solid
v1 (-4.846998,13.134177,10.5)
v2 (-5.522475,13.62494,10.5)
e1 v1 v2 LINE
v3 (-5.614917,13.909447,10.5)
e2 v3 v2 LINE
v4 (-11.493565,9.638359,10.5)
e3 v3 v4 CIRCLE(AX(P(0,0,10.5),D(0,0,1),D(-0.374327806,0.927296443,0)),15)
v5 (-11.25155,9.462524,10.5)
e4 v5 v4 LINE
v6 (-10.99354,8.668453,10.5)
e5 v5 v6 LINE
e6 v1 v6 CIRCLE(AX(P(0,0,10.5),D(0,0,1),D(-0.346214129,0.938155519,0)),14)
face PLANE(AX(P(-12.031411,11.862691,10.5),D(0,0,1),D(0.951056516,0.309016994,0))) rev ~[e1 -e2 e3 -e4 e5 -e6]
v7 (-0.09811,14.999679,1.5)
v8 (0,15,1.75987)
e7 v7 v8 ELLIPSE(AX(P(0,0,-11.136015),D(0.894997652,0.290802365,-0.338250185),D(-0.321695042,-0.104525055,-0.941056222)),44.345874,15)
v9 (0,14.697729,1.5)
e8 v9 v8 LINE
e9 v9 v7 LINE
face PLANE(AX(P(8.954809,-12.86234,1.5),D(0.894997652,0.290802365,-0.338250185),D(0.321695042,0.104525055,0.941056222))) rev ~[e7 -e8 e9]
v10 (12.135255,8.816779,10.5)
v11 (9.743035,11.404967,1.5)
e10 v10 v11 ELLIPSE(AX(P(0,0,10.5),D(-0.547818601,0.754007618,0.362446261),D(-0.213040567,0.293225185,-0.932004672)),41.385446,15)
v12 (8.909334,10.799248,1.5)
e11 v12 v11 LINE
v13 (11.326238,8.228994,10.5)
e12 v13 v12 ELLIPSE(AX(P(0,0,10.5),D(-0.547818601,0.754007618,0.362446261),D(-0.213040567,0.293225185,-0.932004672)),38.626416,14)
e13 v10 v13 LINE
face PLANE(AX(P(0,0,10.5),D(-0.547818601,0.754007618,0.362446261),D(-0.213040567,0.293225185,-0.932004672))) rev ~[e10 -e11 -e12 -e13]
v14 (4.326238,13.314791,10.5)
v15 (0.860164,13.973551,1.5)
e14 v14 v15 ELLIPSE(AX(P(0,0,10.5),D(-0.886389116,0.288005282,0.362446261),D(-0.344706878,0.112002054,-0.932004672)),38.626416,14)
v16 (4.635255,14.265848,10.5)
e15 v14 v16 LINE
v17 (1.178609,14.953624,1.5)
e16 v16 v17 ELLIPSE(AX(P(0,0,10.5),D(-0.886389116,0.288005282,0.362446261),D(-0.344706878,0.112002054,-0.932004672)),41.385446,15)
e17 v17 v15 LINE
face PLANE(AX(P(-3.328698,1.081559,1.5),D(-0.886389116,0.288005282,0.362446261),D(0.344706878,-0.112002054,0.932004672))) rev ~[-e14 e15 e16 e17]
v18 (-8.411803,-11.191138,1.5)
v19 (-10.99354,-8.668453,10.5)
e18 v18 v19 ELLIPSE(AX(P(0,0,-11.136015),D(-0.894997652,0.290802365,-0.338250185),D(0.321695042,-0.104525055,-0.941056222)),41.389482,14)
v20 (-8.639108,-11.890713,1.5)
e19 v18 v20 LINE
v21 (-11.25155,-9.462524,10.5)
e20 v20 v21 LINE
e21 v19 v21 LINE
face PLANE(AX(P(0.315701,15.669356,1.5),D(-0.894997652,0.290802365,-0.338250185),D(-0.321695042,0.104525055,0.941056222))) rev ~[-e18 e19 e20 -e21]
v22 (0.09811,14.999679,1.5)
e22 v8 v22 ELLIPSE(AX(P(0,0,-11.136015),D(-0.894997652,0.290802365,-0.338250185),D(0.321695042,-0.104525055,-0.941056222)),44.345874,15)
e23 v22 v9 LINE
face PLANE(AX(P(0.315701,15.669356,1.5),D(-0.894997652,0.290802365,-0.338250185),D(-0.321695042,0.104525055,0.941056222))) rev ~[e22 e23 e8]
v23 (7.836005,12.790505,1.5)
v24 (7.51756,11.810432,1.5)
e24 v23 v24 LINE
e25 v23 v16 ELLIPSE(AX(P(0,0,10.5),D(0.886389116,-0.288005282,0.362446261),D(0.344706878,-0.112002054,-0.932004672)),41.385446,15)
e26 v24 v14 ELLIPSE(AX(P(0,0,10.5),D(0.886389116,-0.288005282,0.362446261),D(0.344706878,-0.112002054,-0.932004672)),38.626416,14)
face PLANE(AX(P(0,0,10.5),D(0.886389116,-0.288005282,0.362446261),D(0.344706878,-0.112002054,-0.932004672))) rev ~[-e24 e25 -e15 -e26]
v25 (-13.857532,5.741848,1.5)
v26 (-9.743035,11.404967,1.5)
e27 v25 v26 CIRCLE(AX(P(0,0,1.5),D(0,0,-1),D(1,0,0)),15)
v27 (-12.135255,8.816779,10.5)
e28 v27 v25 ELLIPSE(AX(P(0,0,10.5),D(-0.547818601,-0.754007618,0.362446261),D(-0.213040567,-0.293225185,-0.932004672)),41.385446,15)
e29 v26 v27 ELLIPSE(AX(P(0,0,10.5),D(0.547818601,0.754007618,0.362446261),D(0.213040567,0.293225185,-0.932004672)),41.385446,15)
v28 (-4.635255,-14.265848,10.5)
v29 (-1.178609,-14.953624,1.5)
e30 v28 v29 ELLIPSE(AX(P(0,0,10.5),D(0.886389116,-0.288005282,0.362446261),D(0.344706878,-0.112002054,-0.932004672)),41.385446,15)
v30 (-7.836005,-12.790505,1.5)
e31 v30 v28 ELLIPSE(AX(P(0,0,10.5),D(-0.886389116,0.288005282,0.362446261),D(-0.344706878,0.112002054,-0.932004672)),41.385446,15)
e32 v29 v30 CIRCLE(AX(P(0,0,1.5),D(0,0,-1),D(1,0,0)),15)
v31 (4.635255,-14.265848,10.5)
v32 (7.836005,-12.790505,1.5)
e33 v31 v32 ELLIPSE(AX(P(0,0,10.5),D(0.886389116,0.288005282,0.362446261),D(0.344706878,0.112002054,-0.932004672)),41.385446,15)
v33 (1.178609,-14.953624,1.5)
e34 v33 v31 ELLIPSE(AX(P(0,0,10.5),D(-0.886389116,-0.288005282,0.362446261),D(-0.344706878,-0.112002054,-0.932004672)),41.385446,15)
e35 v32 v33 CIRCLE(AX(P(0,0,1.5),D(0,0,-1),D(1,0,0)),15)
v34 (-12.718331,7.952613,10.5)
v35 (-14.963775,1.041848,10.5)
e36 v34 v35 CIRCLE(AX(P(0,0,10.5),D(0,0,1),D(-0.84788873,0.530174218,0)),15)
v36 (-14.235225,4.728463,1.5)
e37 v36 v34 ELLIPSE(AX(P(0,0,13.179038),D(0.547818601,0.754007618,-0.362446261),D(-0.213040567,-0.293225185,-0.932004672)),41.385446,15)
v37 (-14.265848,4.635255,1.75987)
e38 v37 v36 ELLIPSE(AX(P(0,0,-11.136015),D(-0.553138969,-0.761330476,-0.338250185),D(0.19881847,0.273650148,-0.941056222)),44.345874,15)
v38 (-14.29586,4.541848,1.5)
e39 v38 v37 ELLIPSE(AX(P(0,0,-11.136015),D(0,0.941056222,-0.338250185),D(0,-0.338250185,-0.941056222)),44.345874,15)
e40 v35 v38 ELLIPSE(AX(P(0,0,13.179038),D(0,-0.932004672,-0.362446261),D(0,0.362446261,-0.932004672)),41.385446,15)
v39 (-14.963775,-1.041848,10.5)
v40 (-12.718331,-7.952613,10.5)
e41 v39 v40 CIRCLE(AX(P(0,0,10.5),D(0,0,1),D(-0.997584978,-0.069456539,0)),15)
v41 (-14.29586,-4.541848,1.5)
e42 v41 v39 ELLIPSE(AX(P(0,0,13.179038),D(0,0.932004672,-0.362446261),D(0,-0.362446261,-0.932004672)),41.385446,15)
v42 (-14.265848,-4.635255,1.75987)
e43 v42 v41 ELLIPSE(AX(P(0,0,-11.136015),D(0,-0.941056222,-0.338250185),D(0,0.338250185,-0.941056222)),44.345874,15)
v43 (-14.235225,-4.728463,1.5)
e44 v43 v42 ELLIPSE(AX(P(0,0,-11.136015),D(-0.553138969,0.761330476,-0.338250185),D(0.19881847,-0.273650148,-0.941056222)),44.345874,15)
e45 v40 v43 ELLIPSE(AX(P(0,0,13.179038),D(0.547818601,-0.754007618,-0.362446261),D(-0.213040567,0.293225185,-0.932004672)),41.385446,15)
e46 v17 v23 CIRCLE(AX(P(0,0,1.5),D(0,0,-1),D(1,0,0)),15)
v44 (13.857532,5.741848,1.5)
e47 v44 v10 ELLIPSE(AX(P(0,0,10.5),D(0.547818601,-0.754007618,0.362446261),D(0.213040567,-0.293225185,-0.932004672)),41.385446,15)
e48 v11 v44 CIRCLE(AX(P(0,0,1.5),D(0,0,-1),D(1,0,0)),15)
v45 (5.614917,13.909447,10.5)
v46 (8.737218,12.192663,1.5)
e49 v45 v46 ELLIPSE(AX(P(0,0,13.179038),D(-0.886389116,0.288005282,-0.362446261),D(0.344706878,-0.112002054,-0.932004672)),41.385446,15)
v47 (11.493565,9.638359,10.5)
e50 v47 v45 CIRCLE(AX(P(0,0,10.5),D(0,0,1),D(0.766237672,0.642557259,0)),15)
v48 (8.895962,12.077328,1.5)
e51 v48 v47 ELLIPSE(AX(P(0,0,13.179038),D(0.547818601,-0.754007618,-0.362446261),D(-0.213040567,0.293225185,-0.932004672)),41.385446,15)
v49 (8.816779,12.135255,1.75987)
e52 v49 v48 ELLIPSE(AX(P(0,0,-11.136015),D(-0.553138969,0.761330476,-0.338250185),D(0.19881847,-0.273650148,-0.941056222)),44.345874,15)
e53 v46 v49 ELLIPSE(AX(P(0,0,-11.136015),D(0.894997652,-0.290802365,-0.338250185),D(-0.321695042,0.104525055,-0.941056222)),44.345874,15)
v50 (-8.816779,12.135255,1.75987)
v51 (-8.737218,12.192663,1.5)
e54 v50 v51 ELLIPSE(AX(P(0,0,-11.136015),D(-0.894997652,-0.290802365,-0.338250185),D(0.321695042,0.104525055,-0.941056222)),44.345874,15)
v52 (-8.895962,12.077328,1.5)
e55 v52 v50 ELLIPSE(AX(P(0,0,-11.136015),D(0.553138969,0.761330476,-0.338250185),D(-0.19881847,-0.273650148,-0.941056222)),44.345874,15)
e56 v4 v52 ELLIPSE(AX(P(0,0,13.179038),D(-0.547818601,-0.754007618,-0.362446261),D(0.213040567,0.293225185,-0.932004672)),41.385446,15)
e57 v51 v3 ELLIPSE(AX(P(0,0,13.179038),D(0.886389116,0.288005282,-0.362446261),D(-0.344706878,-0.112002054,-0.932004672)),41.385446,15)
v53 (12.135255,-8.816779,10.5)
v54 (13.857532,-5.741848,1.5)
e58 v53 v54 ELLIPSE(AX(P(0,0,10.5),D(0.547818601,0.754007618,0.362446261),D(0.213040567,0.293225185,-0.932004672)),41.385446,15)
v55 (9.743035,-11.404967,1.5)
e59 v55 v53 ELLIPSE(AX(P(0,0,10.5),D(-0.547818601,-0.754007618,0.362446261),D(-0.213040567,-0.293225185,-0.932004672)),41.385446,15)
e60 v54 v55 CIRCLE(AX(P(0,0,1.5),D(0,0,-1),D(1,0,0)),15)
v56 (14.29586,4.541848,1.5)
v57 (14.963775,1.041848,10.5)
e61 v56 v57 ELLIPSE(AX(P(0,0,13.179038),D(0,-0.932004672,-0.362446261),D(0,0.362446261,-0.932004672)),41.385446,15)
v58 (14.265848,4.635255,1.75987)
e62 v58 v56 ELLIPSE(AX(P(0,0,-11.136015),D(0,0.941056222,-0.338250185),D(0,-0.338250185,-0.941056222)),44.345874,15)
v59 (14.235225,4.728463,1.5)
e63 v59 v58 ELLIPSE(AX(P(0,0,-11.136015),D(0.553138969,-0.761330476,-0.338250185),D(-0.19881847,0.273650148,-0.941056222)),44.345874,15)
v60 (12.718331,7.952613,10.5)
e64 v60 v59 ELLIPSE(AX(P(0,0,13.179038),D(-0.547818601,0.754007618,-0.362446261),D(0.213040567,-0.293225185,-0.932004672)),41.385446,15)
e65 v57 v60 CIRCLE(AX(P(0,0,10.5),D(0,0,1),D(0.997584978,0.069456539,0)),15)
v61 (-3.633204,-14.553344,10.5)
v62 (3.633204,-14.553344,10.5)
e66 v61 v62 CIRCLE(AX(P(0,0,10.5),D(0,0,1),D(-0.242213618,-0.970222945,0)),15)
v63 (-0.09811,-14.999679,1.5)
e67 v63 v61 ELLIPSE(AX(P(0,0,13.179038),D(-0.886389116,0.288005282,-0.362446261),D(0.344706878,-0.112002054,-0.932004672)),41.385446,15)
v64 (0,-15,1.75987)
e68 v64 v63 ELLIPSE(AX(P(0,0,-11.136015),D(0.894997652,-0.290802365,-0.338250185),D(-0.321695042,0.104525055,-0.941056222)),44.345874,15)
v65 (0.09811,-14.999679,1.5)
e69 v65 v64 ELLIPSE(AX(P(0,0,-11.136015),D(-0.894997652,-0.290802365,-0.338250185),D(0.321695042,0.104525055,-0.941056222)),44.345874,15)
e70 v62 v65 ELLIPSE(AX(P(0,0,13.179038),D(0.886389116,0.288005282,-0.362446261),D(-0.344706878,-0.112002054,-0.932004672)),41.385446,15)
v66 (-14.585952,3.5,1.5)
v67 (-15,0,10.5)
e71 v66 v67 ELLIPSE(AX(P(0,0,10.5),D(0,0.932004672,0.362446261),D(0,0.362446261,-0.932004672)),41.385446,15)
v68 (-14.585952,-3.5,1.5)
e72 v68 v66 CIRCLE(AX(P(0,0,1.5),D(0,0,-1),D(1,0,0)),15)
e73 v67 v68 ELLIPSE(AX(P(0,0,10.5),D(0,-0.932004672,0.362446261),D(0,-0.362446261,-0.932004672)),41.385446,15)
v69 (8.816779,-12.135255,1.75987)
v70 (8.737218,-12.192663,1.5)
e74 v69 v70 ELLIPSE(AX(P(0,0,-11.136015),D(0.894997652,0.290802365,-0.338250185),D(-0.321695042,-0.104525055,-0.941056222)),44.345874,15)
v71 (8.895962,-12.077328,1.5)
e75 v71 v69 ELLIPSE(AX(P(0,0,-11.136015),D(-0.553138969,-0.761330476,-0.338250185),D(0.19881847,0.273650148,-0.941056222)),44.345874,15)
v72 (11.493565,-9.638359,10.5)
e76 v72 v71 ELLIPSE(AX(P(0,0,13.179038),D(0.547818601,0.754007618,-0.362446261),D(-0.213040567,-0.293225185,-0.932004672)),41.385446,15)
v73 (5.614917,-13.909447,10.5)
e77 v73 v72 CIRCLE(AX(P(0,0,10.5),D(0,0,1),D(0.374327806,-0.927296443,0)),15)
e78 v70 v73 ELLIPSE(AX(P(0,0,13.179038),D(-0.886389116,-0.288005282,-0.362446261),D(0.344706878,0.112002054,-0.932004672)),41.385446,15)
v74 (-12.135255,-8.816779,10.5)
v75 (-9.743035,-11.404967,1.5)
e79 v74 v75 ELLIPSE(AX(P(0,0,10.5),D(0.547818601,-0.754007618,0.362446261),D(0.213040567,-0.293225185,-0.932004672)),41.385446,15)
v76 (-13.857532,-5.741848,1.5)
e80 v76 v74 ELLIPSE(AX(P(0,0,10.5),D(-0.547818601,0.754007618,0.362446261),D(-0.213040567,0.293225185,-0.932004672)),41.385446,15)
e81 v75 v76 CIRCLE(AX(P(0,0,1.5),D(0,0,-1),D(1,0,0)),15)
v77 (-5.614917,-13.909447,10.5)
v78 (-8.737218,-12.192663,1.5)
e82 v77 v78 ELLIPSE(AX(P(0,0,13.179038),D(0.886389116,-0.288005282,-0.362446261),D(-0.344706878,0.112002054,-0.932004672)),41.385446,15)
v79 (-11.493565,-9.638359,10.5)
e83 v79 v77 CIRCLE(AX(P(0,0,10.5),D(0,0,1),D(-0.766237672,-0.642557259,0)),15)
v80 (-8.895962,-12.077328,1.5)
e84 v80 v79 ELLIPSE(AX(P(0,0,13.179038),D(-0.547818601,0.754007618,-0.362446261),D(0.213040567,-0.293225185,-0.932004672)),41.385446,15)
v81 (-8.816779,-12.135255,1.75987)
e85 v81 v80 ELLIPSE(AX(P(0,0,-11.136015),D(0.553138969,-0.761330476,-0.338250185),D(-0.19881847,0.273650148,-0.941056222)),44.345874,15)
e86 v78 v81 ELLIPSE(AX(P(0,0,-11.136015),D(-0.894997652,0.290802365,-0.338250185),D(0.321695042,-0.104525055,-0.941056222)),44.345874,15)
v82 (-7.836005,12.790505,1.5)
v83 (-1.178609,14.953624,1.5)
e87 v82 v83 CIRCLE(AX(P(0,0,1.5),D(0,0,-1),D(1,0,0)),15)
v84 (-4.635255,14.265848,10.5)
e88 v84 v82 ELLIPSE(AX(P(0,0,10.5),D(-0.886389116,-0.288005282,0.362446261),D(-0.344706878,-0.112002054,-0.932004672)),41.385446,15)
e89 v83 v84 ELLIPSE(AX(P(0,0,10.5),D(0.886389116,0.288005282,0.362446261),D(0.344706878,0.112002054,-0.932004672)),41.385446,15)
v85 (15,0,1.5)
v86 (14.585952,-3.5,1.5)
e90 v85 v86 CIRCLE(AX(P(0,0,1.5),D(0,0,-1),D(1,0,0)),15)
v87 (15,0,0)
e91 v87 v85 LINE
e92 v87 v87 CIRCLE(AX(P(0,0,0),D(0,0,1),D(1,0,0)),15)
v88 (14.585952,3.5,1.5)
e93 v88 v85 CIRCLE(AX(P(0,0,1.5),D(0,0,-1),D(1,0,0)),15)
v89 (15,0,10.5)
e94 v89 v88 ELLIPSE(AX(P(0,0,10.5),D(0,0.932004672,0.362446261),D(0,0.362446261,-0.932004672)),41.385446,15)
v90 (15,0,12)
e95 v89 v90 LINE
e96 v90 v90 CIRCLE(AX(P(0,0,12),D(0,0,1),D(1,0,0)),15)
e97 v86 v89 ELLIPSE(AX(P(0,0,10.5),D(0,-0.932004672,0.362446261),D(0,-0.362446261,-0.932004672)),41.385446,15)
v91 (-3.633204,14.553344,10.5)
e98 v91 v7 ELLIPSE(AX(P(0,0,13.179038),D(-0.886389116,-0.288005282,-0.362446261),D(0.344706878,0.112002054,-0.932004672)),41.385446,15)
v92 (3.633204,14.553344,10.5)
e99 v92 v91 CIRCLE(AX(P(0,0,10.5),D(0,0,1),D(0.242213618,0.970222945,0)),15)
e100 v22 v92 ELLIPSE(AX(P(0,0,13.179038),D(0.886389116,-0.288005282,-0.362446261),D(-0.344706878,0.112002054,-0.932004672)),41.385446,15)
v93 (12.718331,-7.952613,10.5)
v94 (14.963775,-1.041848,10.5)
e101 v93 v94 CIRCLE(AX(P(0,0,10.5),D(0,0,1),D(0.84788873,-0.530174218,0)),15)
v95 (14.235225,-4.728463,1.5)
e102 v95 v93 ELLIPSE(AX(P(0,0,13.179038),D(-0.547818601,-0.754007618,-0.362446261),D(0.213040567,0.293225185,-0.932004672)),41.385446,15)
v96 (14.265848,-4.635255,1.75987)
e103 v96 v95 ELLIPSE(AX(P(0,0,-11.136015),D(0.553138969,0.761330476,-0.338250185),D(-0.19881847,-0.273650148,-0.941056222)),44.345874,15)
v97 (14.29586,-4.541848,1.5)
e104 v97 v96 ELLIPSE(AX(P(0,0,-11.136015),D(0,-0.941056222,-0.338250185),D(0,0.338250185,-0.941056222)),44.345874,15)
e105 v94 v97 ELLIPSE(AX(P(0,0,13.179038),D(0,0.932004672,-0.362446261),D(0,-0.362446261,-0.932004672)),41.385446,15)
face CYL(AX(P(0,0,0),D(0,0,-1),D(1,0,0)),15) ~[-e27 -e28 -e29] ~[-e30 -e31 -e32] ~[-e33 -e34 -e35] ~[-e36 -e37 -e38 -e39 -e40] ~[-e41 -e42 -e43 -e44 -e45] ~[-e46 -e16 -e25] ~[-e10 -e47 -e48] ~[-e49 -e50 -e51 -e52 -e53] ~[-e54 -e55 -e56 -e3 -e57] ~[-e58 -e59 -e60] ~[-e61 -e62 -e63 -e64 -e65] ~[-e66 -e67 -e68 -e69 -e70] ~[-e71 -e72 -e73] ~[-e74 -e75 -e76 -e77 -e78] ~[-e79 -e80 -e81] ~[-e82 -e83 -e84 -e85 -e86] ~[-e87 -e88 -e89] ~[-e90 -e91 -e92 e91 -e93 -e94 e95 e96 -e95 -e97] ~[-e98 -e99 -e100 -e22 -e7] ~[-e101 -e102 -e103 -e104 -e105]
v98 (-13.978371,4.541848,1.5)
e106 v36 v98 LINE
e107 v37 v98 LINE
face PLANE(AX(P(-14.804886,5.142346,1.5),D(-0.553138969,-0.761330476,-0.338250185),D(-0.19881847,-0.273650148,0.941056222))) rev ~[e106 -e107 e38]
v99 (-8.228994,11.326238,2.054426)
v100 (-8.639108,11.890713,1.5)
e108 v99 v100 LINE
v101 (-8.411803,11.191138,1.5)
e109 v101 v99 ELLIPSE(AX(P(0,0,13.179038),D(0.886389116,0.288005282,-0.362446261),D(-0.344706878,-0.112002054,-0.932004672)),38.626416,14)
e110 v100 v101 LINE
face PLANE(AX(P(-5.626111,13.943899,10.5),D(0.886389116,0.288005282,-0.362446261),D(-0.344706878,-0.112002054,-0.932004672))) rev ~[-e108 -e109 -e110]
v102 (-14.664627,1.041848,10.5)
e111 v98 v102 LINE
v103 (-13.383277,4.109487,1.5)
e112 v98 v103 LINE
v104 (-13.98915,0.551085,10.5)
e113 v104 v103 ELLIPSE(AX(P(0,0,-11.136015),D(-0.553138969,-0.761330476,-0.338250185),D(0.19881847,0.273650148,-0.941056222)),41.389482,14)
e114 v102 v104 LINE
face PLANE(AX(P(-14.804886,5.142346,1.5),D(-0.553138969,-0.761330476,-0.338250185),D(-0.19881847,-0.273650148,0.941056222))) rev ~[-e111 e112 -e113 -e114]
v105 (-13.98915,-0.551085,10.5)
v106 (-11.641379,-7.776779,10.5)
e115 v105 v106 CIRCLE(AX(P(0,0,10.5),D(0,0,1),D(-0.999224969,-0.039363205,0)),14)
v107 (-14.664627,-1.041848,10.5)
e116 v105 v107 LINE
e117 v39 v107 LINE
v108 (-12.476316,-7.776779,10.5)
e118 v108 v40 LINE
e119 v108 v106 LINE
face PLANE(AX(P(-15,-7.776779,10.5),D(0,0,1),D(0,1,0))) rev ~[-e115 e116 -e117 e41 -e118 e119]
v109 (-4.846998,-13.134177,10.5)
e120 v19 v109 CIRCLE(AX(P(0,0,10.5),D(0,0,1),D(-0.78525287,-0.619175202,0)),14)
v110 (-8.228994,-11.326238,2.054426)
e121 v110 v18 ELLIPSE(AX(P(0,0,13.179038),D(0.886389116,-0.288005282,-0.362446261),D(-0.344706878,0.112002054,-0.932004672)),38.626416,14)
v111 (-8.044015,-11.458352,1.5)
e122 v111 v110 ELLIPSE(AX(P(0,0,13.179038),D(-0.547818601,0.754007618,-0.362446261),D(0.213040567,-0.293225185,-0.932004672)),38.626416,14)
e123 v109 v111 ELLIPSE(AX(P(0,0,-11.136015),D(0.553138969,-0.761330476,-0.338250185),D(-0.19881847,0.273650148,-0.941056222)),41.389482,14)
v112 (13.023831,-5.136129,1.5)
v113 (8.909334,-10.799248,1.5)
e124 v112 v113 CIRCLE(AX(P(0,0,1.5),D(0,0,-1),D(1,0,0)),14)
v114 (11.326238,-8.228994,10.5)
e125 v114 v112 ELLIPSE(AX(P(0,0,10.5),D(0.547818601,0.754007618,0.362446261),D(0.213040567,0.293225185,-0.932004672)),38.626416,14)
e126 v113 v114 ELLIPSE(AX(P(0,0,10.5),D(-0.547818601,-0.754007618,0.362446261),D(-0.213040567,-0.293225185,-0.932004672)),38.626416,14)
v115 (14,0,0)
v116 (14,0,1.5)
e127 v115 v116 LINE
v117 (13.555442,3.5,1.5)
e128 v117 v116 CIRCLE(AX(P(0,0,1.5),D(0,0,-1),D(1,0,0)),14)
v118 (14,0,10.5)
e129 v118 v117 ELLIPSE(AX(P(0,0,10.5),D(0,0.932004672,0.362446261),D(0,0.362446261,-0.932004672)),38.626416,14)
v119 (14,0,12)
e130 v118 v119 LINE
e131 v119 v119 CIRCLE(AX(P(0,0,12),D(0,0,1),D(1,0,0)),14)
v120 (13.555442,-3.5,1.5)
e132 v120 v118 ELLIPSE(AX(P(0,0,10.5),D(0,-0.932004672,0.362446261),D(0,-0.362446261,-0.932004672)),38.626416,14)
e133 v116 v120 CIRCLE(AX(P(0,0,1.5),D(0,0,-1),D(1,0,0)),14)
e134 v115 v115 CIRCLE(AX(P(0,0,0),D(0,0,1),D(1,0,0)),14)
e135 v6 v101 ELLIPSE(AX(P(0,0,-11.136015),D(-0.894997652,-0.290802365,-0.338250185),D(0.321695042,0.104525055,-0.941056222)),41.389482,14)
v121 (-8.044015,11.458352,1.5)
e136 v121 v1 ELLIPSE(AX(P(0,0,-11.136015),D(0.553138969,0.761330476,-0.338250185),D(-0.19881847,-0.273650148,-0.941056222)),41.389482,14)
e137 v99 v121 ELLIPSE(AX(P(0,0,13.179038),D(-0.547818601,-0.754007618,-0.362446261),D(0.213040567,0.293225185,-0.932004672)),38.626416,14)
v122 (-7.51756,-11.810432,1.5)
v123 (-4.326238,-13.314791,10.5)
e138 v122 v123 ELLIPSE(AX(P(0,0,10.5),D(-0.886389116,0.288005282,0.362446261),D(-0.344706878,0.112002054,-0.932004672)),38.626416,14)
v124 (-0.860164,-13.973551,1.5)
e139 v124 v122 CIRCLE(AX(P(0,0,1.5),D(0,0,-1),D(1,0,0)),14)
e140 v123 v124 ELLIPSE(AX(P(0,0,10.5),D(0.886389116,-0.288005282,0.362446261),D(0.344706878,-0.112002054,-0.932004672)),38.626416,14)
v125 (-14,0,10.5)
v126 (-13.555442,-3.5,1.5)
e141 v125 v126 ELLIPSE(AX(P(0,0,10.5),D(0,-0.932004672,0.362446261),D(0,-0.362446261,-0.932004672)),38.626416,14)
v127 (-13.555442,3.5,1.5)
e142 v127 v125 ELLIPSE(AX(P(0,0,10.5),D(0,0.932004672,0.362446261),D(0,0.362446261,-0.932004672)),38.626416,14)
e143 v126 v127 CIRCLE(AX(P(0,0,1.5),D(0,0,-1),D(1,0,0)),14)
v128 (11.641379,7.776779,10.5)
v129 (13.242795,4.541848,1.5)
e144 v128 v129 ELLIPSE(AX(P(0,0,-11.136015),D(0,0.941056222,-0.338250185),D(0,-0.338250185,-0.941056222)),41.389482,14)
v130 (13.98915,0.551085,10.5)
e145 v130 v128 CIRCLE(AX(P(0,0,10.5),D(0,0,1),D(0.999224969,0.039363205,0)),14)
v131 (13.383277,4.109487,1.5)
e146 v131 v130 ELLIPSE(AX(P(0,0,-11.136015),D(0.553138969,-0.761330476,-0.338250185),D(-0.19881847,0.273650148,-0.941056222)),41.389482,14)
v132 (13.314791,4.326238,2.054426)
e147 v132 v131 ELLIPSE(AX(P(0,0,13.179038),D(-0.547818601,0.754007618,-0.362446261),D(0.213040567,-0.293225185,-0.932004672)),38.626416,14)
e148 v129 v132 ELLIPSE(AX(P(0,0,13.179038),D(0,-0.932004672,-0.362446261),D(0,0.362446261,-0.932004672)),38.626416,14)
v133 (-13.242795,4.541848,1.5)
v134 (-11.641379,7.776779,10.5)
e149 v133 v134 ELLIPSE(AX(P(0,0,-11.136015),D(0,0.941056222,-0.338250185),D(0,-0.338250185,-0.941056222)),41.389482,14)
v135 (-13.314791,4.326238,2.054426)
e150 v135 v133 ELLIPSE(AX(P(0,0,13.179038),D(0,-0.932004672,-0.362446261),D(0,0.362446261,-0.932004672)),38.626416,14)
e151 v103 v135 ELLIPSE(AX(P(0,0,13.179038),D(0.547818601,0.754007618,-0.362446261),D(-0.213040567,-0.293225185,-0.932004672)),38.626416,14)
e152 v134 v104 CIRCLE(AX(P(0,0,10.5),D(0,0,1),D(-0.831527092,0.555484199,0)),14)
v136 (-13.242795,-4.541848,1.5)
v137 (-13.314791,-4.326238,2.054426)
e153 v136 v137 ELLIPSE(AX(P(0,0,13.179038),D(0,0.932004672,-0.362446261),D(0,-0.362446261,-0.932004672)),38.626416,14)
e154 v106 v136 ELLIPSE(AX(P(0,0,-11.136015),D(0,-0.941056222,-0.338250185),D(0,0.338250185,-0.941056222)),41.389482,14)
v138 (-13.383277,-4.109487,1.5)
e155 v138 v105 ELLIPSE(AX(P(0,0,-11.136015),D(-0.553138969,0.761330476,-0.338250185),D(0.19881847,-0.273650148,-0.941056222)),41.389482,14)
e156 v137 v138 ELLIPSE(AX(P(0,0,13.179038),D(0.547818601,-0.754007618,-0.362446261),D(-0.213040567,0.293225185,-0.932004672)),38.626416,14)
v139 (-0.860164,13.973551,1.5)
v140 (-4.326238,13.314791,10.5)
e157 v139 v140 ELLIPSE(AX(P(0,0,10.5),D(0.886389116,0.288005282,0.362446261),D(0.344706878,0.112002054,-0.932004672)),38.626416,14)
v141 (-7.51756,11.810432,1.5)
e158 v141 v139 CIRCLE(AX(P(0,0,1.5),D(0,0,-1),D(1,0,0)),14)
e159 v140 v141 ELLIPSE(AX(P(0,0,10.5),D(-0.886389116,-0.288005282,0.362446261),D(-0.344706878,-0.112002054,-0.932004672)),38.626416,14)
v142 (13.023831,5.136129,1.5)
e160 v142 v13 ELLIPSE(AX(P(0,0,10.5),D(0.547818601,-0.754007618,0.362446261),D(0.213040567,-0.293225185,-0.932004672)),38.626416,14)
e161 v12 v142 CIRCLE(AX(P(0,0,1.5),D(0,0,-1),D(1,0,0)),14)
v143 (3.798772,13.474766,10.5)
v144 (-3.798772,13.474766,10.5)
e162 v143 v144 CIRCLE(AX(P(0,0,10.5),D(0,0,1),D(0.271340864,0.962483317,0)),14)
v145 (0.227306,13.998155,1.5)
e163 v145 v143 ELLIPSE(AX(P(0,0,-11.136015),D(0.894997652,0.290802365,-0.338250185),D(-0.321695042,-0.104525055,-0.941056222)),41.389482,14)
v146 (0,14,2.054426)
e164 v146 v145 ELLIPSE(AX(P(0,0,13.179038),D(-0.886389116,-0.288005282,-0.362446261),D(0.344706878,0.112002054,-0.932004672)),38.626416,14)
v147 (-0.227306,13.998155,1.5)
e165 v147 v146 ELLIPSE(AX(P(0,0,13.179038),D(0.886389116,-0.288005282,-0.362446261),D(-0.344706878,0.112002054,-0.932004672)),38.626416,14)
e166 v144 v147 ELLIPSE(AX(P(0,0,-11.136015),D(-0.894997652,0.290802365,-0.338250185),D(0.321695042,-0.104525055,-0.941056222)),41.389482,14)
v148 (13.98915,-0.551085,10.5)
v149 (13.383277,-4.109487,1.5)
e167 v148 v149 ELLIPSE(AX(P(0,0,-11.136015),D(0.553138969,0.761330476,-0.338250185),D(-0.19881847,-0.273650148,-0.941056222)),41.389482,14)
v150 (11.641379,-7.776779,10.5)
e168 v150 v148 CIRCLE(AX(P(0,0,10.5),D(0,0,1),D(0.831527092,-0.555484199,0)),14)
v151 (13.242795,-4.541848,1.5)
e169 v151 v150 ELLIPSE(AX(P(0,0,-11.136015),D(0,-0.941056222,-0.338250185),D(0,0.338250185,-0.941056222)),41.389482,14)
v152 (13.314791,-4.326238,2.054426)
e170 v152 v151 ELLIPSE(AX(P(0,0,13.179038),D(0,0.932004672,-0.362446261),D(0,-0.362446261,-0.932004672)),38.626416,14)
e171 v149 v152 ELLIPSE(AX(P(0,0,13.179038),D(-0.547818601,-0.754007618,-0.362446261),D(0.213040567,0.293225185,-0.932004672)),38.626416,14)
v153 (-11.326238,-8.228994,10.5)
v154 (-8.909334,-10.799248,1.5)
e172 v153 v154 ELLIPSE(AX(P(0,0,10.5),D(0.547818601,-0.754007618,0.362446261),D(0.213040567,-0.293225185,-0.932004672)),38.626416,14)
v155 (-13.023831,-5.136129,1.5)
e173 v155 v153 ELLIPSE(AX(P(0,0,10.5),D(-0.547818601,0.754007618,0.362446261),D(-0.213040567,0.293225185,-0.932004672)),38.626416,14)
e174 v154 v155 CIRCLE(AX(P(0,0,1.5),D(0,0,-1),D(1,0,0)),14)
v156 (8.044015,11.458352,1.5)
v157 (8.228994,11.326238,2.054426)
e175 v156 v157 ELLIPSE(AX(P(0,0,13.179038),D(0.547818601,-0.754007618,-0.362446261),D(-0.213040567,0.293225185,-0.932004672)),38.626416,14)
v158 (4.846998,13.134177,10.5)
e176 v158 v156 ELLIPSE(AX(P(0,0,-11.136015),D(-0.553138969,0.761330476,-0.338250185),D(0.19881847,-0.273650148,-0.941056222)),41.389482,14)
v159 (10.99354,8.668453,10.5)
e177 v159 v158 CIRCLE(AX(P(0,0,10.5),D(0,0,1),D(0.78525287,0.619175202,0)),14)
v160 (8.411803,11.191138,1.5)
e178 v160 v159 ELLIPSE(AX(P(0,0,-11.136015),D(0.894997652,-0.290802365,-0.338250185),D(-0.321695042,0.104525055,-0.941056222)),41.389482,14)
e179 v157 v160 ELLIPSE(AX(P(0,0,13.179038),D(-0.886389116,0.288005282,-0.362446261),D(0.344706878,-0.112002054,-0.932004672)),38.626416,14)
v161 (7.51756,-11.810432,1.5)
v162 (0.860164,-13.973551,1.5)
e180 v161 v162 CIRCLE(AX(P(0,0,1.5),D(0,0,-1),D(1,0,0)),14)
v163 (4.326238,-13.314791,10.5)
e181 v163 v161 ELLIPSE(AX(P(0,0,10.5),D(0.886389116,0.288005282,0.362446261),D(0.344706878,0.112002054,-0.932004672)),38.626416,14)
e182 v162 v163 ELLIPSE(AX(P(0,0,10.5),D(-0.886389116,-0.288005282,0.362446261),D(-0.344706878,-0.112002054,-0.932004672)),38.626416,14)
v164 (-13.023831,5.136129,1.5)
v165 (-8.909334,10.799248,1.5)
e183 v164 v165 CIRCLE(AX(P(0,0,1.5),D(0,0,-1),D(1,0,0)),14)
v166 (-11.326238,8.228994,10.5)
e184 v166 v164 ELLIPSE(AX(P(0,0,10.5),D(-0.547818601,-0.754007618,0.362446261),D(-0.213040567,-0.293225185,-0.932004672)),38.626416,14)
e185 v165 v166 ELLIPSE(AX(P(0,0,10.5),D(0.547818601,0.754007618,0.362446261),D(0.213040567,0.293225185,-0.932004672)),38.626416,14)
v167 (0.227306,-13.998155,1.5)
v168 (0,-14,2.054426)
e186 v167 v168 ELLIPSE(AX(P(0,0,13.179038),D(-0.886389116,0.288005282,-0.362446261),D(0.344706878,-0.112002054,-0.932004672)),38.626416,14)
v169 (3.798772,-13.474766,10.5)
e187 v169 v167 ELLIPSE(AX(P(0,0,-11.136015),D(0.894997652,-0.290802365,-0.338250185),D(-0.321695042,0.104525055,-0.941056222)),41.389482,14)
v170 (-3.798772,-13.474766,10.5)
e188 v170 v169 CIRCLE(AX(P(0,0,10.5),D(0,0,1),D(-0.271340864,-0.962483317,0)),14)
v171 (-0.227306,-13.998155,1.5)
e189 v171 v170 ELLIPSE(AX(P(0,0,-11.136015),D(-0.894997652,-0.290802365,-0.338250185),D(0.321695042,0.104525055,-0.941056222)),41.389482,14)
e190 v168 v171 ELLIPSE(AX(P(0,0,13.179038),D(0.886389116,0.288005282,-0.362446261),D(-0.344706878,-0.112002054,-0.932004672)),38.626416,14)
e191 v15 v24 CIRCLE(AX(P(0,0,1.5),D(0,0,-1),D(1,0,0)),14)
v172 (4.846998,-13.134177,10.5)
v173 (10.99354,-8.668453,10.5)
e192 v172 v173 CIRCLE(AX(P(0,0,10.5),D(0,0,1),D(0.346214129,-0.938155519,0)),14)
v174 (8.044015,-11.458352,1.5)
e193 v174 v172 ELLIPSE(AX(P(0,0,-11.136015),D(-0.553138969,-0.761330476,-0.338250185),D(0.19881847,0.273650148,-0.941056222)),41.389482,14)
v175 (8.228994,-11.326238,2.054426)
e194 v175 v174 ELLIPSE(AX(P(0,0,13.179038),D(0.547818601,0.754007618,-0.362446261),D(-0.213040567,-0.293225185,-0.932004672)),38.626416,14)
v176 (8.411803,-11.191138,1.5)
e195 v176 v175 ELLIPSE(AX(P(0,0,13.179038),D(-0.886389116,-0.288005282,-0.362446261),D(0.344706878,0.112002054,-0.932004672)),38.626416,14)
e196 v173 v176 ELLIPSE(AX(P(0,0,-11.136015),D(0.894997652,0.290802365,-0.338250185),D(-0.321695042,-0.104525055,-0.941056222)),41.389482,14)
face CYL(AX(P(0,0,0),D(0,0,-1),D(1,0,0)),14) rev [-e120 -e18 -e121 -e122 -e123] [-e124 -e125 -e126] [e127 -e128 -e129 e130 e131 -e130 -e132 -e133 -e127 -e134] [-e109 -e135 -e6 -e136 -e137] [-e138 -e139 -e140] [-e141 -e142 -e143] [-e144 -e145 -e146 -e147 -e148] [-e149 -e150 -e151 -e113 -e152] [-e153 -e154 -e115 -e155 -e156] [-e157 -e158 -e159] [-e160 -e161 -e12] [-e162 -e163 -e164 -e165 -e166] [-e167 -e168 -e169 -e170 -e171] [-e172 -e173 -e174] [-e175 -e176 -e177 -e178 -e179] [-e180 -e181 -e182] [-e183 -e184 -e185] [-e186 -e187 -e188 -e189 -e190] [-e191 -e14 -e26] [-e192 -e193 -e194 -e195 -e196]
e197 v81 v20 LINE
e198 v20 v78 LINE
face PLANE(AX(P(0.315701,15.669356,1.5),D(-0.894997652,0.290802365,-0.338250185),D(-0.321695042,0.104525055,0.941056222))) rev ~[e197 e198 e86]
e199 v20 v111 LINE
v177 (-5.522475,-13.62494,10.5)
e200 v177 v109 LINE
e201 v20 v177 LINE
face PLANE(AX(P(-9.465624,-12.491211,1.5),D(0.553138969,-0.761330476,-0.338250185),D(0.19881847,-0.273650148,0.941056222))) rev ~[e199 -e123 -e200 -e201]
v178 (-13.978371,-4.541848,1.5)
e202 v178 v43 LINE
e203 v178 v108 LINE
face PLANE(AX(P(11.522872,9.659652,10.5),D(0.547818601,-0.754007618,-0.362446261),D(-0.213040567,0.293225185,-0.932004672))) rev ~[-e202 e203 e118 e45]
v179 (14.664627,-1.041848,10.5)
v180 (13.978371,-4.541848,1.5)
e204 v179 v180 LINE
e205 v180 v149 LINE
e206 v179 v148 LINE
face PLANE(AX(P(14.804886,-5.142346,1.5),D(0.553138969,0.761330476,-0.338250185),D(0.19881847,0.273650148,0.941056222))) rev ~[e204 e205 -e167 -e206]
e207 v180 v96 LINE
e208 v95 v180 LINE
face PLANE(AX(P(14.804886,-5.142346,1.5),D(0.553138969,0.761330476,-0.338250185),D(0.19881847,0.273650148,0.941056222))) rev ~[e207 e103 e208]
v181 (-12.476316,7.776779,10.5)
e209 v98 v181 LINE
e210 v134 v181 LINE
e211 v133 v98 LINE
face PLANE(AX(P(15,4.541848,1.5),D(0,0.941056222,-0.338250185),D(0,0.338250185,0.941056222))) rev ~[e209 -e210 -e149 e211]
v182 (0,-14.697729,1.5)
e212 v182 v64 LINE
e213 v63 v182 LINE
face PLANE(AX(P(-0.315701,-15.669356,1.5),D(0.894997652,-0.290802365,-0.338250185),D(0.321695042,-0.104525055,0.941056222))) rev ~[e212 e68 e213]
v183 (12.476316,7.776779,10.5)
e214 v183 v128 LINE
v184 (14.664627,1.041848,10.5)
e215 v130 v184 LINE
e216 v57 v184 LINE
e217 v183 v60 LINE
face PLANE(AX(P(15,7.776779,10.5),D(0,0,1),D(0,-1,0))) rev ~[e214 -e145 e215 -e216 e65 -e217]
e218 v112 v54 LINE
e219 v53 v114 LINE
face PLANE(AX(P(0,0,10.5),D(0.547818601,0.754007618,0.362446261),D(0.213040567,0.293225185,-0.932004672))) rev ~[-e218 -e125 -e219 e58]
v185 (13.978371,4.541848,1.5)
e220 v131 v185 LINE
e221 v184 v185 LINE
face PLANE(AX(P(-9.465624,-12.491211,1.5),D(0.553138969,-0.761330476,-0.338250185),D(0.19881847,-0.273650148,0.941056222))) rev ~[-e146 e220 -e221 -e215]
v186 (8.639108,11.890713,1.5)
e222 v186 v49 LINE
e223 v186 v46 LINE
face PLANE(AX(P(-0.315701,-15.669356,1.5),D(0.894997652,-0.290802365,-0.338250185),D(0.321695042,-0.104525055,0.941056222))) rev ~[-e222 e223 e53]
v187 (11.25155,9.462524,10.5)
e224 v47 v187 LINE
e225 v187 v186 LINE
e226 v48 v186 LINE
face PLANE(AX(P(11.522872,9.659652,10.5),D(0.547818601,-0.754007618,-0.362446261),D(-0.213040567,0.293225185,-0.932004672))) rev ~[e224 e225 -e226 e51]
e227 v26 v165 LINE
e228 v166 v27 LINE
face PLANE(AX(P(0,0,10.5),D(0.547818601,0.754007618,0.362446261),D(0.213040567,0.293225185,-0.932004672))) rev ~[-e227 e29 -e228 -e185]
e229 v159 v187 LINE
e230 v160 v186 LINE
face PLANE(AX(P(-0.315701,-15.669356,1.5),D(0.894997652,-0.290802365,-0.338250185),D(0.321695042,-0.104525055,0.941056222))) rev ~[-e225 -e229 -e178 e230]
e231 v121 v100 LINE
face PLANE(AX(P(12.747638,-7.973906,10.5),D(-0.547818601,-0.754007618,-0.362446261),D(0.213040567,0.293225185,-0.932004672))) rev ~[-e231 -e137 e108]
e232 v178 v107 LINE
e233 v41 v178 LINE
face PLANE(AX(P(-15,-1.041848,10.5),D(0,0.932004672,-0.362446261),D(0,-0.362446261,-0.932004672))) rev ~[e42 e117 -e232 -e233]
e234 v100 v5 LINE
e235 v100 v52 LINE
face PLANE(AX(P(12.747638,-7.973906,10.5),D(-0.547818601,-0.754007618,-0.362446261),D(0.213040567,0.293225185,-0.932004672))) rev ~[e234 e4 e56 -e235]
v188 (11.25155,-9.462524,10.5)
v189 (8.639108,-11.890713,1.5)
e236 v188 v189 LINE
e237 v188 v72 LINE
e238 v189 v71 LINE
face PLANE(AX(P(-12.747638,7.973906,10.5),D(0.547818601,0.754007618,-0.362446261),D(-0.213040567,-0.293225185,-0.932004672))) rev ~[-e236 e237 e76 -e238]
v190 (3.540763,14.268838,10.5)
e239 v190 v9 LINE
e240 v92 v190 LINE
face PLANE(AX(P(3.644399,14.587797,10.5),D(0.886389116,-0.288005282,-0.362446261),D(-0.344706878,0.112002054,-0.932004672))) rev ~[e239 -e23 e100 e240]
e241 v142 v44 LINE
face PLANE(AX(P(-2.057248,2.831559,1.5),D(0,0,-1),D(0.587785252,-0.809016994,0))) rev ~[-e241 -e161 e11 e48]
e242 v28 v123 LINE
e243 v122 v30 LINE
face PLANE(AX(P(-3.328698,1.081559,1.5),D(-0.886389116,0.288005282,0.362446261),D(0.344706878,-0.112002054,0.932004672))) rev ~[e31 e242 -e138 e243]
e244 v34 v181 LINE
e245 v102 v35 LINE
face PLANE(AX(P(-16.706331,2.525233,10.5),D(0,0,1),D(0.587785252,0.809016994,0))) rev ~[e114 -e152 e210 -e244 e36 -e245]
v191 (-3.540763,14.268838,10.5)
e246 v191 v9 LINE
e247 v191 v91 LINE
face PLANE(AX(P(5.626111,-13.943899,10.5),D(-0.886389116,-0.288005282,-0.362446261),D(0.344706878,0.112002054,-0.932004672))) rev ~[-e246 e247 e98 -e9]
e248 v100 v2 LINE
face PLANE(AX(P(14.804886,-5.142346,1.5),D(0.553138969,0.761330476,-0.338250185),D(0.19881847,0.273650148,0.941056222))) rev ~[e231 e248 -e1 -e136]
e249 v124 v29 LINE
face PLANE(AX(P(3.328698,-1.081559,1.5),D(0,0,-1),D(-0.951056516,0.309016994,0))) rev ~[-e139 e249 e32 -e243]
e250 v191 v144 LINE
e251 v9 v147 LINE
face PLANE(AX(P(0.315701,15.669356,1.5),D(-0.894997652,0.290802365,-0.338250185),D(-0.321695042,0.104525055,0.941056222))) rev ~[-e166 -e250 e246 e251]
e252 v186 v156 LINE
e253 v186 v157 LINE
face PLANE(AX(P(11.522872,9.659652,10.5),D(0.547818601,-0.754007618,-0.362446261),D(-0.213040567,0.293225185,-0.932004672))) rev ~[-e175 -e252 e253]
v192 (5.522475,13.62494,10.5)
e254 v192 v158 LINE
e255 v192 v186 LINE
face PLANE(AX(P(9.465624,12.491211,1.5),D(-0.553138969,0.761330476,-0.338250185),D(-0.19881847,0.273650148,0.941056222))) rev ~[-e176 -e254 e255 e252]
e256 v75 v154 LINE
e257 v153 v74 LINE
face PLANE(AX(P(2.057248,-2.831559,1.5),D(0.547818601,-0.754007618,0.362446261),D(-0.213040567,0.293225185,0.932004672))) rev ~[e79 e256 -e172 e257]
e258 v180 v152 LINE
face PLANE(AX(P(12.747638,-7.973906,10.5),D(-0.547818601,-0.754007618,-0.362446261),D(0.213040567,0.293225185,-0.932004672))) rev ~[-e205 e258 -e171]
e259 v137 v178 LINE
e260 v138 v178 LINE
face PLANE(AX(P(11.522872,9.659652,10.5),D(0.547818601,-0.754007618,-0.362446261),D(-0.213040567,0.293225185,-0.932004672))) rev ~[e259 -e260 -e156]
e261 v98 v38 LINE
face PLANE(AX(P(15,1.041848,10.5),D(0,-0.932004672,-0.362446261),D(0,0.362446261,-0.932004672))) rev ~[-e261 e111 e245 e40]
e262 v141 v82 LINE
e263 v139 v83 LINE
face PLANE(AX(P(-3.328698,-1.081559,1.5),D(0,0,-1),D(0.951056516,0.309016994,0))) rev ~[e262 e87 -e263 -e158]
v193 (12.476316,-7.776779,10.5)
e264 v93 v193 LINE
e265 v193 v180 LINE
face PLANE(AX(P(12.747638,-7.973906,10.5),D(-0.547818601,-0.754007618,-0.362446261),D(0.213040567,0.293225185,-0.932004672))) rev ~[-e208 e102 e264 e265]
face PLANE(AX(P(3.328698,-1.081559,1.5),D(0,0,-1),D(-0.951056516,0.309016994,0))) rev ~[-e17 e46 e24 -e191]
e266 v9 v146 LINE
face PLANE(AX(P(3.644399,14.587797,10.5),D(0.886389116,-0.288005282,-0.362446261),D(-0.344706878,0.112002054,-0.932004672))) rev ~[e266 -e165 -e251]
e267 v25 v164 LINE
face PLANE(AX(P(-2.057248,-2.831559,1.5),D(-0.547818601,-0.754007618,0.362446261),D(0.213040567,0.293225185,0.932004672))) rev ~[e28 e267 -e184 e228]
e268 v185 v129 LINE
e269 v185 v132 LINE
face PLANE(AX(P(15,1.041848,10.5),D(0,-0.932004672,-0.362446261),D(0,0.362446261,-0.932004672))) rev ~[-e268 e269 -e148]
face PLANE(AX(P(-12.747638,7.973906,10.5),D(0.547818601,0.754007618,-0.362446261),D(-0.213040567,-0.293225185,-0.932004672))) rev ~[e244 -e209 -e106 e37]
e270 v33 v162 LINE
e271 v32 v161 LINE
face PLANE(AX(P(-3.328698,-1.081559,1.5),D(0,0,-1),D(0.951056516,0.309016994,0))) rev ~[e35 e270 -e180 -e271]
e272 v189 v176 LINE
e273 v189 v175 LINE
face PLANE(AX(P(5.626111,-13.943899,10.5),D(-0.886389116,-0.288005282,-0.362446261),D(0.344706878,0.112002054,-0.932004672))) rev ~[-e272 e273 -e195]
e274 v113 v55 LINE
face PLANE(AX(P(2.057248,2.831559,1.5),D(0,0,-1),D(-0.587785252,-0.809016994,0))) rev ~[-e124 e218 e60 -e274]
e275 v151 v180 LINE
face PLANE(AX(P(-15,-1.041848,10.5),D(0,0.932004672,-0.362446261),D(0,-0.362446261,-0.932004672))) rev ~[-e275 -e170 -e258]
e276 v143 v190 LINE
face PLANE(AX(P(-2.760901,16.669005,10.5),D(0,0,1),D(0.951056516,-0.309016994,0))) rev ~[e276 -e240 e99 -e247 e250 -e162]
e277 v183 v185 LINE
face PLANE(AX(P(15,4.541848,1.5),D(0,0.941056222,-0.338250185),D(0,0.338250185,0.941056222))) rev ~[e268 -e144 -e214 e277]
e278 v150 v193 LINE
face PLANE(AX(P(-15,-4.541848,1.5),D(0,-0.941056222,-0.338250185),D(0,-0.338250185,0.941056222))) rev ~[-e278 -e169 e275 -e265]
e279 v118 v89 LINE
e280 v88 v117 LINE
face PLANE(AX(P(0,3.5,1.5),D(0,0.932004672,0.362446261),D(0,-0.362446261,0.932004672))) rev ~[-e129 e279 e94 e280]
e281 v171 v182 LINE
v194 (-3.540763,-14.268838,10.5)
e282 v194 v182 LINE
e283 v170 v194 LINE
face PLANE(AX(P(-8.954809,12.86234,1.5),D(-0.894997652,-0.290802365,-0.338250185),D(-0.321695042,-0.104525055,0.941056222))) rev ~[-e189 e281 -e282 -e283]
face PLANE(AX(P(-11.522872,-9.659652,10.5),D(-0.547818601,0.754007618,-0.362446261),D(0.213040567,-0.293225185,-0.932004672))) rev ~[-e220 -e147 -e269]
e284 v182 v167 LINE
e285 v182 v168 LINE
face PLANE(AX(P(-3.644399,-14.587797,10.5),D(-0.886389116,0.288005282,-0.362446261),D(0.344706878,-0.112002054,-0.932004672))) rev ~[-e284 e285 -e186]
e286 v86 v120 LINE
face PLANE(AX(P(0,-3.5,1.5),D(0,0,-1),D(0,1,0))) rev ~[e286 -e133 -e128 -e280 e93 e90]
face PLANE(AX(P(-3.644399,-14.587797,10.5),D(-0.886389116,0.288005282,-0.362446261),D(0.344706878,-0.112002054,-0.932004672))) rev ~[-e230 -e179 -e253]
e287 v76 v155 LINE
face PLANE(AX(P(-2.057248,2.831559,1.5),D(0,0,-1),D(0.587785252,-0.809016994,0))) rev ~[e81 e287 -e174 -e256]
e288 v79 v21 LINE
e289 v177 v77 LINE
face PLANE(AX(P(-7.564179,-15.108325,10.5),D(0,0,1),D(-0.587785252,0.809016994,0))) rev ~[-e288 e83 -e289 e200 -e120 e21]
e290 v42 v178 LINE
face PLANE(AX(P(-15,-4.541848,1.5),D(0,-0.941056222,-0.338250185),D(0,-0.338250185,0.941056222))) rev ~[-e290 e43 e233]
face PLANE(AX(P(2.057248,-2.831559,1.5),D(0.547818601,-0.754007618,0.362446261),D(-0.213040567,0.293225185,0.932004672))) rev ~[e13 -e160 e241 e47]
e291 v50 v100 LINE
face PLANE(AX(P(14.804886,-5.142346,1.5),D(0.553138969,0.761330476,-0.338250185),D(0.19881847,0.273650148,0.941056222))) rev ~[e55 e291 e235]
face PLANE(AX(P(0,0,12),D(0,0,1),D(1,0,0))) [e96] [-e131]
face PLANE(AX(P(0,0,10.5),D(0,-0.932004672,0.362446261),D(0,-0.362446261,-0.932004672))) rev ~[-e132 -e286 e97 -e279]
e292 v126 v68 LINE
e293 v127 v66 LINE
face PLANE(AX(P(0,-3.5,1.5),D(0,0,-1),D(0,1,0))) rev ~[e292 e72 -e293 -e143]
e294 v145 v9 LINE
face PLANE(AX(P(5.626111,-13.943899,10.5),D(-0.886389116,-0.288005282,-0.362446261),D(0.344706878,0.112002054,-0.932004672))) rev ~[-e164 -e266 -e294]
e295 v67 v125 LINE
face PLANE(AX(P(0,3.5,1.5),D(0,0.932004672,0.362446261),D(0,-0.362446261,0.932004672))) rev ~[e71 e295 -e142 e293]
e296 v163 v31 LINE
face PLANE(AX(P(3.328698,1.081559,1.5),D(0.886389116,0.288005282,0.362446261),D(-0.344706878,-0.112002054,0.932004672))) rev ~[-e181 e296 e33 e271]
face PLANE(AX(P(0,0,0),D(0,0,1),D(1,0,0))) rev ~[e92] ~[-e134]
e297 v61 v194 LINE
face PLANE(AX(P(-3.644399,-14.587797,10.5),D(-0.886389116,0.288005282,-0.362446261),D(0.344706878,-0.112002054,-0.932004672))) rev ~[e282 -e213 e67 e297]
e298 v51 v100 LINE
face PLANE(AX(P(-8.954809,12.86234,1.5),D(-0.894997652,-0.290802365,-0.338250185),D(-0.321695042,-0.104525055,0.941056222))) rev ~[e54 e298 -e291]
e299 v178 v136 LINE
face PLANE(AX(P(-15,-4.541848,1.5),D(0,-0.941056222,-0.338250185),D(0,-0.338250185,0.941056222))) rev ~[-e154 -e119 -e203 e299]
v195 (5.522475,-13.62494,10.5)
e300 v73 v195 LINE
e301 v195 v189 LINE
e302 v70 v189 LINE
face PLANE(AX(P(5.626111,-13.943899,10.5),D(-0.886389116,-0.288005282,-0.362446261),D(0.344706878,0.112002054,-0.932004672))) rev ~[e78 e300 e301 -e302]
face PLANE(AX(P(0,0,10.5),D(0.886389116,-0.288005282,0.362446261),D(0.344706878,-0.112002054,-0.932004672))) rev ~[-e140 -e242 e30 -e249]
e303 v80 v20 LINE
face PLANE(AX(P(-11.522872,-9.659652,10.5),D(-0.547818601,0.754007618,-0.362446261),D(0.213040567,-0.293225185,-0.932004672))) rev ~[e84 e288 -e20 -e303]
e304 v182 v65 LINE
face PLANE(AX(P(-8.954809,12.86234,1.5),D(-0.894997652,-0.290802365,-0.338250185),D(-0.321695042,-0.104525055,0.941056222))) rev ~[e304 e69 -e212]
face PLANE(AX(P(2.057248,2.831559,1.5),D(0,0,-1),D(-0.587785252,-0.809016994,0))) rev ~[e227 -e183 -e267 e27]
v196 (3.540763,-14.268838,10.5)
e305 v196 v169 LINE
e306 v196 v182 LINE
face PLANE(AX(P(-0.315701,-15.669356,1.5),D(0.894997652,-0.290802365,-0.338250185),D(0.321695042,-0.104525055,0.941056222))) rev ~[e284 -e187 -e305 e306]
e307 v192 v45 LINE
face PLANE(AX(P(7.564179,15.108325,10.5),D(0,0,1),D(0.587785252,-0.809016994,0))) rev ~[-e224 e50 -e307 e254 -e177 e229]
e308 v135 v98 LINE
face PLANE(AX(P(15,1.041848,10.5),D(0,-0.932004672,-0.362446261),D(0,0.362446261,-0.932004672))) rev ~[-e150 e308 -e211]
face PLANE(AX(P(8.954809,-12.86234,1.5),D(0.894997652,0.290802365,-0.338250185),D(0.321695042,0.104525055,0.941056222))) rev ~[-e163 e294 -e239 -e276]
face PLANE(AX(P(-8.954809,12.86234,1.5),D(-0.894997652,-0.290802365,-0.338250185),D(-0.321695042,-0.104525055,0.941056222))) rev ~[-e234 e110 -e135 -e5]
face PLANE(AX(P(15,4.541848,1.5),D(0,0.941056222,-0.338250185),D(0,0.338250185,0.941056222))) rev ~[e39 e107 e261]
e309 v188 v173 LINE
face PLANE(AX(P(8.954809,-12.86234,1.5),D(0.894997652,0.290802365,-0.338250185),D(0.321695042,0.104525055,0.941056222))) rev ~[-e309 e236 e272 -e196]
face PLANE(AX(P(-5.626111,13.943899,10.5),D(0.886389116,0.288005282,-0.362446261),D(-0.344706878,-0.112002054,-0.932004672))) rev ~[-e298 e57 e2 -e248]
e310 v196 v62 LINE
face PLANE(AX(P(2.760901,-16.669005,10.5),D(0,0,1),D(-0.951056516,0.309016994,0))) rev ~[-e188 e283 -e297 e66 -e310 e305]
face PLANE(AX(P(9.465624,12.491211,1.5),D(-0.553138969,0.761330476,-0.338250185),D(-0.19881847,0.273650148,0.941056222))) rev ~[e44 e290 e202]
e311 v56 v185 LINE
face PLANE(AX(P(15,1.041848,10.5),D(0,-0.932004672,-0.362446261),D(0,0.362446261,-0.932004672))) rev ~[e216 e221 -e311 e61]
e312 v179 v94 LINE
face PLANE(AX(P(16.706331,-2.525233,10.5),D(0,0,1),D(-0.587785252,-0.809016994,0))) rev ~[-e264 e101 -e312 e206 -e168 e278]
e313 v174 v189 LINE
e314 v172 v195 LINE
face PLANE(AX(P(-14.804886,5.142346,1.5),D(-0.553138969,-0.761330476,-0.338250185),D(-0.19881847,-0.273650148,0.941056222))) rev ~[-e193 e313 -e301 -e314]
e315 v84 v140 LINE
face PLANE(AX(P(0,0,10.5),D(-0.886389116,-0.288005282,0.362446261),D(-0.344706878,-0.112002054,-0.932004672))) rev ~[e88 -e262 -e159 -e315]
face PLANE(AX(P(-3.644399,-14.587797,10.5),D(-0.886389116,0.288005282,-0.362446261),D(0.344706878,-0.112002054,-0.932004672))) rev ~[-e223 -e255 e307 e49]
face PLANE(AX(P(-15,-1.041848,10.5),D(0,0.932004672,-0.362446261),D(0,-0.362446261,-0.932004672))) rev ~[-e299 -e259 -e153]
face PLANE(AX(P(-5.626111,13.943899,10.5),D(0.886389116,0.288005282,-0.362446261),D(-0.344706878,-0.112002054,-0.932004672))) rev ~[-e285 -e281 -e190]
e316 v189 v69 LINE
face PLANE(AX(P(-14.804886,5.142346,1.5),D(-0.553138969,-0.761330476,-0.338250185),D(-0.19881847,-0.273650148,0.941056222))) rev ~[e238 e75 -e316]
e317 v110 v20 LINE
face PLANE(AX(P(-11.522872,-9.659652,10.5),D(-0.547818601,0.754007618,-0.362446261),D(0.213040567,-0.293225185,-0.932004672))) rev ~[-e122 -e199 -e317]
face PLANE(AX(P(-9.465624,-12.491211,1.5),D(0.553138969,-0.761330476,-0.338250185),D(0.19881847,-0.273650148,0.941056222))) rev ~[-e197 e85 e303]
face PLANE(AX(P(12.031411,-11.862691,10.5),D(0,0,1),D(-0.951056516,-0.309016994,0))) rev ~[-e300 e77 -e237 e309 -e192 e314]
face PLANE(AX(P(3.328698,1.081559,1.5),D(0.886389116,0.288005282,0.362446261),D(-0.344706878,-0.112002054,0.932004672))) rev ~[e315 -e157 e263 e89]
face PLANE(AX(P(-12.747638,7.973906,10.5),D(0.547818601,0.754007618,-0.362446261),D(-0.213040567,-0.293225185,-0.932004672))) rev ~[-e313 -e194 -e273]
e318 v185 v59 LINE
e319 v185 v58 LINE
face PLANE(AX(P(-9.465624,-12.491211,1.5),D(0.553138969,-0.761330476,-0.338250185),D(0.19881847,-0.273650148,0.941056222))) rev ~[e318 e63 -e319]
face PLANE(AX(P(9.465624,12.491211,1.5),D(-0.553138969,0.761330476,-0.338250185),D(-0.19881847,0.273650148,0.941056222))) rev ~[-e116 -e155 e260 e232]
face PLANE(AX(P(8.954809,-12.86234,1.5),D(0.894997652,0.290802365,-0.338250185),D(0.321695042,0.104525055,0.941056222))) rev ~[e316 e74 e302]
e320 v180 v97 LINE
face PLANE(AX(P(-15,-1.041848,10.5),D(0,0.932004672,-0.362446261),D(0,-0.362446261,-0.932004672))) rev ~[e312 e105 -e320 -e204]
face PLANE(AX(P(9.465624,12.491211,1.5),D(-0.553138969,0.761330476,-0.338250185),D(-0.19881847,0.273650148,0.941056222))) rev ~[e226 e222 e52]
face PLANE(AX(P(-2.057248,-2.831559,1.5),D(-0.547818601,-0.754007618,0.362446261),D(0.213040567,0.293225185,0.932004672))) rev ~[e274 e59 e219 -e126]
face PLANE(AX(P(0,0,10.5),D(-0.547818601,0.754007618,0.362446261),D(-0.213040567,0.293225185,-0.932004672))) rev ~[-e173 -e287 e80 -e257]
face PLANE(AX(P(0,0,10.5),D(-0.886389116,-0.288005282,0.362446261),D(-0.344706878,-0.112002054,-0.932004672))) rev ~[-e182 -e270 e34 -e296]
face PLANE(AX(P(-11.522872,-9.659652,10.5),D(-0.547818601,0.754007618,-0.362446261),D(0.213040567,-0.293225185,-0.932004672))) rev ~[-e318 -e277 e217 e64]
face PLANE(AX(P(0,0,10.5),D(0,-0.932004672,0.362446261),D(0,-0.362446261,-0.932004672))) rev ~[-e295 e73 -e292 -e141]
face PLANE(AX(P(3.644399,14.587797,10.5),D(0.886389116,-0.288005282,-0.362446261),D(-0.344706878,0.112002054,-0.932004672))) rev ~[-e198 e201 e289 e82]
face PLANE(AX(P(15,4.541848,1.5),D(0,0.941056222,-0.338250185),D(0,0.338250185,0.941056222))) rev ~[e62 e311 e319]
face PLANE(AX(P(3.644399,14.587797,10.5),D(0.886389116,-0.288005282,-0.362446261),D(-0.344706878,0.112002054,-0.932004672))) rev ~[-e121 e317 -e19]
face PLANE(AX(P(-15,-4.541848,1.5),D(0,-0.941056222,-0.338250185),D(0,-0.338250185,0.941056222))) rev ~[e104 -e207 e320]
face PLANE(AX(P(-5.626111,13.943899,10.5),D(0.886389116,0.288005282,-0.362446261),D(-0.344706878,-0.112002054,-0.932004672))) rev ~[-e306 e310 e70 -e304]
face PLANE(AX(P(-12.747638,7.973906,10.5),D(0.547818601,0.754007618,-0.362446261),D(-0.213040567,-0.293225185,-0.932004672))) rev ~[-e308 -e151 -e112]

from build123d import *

# Parameters (mm, degrees)
SKETCH1_R           = 15
SKETCH1_R_2         = 14
BOSS_EXTRUDE1_DEPTH = 12
CUT_EXTRUDE1_DEPTH  = 31
CIRPATTERN1_COUNT   = 5
CUT_EXTRUDE2_DEPTH  = 32
CIRPATTERN2_COUNT   = 10


with BuildPart() as part:
    # Sketch1 → Boss-Extrude1 (new body)
    with BuildSketch(Plane.XY):
        Circle(SKETCH1_R)
        Circle(SKETCH1_R_2, mode=Mode.SUBTRACT)
    extrude(amount=BOSS_EXTRUDE1_DEPTH)

    # Sketch2 → Cut-Extrude1 (cut, symmetric)
    with BuildSketch(Plane(origin=(0, 0, 0), x_dir=(0, 0, -1), z_dir=(1, 0, 0))):
        Polygon((-1.5, 0), (-1.5, 3.5), (-10.5, 0), (-1.5, -3.5), align=None)
    cut_extrude1 = extrude(amount=CUT_EXTRUDE1_DEPTH, both=True, mode=Mode.SUBTRACT)

    # CirPattern1: Cut-Extrude1 ×5 about axis
    cirpattern1_axis = Axis((0, 0, 0), (0, 0, 1))
    for i in range(1, CIRPATTERN1_COUNT):
        add(cut_extrude1.rotate(cirpattern1_axis, i * 360 / CIRPATTERN1_COUNT), mode=Mode.SUBTRACT)

    # Sketch7 → Cut-Extrude2 (cut)
    with BuildSketch(Plane(origin=(-4.635254916, 14.265847744, 0), x_dir=(0.9510565162951501, 0.30901699437495833, 0), z_dir=(-0.30901699437495833, 0.9510565162951502, 0))):
        Polygon((-1.041848082, -10.5), (-4.541848082, -1.5), (-7.776778784, -10.5), align=None)
    cut_extrude2 = extrude(amount=-CUT_EXTRUDE2_DEPTH, mode=Mode.SUBTRACT)

    # CirPattern2: Cut-Extrude2 ×10 about axis
    cirpattern2_axis = Axis((0, 0, 0), (0, 0, 1))
    for i in range(1, CIRPATTERN2_COUNT):
        add(cut_extrude2.rotate(cirpattern2_axis, i * 360 / CIRPATTERN2_COUNT), mode=Mode.SUBTRACT)


solid = part.part
